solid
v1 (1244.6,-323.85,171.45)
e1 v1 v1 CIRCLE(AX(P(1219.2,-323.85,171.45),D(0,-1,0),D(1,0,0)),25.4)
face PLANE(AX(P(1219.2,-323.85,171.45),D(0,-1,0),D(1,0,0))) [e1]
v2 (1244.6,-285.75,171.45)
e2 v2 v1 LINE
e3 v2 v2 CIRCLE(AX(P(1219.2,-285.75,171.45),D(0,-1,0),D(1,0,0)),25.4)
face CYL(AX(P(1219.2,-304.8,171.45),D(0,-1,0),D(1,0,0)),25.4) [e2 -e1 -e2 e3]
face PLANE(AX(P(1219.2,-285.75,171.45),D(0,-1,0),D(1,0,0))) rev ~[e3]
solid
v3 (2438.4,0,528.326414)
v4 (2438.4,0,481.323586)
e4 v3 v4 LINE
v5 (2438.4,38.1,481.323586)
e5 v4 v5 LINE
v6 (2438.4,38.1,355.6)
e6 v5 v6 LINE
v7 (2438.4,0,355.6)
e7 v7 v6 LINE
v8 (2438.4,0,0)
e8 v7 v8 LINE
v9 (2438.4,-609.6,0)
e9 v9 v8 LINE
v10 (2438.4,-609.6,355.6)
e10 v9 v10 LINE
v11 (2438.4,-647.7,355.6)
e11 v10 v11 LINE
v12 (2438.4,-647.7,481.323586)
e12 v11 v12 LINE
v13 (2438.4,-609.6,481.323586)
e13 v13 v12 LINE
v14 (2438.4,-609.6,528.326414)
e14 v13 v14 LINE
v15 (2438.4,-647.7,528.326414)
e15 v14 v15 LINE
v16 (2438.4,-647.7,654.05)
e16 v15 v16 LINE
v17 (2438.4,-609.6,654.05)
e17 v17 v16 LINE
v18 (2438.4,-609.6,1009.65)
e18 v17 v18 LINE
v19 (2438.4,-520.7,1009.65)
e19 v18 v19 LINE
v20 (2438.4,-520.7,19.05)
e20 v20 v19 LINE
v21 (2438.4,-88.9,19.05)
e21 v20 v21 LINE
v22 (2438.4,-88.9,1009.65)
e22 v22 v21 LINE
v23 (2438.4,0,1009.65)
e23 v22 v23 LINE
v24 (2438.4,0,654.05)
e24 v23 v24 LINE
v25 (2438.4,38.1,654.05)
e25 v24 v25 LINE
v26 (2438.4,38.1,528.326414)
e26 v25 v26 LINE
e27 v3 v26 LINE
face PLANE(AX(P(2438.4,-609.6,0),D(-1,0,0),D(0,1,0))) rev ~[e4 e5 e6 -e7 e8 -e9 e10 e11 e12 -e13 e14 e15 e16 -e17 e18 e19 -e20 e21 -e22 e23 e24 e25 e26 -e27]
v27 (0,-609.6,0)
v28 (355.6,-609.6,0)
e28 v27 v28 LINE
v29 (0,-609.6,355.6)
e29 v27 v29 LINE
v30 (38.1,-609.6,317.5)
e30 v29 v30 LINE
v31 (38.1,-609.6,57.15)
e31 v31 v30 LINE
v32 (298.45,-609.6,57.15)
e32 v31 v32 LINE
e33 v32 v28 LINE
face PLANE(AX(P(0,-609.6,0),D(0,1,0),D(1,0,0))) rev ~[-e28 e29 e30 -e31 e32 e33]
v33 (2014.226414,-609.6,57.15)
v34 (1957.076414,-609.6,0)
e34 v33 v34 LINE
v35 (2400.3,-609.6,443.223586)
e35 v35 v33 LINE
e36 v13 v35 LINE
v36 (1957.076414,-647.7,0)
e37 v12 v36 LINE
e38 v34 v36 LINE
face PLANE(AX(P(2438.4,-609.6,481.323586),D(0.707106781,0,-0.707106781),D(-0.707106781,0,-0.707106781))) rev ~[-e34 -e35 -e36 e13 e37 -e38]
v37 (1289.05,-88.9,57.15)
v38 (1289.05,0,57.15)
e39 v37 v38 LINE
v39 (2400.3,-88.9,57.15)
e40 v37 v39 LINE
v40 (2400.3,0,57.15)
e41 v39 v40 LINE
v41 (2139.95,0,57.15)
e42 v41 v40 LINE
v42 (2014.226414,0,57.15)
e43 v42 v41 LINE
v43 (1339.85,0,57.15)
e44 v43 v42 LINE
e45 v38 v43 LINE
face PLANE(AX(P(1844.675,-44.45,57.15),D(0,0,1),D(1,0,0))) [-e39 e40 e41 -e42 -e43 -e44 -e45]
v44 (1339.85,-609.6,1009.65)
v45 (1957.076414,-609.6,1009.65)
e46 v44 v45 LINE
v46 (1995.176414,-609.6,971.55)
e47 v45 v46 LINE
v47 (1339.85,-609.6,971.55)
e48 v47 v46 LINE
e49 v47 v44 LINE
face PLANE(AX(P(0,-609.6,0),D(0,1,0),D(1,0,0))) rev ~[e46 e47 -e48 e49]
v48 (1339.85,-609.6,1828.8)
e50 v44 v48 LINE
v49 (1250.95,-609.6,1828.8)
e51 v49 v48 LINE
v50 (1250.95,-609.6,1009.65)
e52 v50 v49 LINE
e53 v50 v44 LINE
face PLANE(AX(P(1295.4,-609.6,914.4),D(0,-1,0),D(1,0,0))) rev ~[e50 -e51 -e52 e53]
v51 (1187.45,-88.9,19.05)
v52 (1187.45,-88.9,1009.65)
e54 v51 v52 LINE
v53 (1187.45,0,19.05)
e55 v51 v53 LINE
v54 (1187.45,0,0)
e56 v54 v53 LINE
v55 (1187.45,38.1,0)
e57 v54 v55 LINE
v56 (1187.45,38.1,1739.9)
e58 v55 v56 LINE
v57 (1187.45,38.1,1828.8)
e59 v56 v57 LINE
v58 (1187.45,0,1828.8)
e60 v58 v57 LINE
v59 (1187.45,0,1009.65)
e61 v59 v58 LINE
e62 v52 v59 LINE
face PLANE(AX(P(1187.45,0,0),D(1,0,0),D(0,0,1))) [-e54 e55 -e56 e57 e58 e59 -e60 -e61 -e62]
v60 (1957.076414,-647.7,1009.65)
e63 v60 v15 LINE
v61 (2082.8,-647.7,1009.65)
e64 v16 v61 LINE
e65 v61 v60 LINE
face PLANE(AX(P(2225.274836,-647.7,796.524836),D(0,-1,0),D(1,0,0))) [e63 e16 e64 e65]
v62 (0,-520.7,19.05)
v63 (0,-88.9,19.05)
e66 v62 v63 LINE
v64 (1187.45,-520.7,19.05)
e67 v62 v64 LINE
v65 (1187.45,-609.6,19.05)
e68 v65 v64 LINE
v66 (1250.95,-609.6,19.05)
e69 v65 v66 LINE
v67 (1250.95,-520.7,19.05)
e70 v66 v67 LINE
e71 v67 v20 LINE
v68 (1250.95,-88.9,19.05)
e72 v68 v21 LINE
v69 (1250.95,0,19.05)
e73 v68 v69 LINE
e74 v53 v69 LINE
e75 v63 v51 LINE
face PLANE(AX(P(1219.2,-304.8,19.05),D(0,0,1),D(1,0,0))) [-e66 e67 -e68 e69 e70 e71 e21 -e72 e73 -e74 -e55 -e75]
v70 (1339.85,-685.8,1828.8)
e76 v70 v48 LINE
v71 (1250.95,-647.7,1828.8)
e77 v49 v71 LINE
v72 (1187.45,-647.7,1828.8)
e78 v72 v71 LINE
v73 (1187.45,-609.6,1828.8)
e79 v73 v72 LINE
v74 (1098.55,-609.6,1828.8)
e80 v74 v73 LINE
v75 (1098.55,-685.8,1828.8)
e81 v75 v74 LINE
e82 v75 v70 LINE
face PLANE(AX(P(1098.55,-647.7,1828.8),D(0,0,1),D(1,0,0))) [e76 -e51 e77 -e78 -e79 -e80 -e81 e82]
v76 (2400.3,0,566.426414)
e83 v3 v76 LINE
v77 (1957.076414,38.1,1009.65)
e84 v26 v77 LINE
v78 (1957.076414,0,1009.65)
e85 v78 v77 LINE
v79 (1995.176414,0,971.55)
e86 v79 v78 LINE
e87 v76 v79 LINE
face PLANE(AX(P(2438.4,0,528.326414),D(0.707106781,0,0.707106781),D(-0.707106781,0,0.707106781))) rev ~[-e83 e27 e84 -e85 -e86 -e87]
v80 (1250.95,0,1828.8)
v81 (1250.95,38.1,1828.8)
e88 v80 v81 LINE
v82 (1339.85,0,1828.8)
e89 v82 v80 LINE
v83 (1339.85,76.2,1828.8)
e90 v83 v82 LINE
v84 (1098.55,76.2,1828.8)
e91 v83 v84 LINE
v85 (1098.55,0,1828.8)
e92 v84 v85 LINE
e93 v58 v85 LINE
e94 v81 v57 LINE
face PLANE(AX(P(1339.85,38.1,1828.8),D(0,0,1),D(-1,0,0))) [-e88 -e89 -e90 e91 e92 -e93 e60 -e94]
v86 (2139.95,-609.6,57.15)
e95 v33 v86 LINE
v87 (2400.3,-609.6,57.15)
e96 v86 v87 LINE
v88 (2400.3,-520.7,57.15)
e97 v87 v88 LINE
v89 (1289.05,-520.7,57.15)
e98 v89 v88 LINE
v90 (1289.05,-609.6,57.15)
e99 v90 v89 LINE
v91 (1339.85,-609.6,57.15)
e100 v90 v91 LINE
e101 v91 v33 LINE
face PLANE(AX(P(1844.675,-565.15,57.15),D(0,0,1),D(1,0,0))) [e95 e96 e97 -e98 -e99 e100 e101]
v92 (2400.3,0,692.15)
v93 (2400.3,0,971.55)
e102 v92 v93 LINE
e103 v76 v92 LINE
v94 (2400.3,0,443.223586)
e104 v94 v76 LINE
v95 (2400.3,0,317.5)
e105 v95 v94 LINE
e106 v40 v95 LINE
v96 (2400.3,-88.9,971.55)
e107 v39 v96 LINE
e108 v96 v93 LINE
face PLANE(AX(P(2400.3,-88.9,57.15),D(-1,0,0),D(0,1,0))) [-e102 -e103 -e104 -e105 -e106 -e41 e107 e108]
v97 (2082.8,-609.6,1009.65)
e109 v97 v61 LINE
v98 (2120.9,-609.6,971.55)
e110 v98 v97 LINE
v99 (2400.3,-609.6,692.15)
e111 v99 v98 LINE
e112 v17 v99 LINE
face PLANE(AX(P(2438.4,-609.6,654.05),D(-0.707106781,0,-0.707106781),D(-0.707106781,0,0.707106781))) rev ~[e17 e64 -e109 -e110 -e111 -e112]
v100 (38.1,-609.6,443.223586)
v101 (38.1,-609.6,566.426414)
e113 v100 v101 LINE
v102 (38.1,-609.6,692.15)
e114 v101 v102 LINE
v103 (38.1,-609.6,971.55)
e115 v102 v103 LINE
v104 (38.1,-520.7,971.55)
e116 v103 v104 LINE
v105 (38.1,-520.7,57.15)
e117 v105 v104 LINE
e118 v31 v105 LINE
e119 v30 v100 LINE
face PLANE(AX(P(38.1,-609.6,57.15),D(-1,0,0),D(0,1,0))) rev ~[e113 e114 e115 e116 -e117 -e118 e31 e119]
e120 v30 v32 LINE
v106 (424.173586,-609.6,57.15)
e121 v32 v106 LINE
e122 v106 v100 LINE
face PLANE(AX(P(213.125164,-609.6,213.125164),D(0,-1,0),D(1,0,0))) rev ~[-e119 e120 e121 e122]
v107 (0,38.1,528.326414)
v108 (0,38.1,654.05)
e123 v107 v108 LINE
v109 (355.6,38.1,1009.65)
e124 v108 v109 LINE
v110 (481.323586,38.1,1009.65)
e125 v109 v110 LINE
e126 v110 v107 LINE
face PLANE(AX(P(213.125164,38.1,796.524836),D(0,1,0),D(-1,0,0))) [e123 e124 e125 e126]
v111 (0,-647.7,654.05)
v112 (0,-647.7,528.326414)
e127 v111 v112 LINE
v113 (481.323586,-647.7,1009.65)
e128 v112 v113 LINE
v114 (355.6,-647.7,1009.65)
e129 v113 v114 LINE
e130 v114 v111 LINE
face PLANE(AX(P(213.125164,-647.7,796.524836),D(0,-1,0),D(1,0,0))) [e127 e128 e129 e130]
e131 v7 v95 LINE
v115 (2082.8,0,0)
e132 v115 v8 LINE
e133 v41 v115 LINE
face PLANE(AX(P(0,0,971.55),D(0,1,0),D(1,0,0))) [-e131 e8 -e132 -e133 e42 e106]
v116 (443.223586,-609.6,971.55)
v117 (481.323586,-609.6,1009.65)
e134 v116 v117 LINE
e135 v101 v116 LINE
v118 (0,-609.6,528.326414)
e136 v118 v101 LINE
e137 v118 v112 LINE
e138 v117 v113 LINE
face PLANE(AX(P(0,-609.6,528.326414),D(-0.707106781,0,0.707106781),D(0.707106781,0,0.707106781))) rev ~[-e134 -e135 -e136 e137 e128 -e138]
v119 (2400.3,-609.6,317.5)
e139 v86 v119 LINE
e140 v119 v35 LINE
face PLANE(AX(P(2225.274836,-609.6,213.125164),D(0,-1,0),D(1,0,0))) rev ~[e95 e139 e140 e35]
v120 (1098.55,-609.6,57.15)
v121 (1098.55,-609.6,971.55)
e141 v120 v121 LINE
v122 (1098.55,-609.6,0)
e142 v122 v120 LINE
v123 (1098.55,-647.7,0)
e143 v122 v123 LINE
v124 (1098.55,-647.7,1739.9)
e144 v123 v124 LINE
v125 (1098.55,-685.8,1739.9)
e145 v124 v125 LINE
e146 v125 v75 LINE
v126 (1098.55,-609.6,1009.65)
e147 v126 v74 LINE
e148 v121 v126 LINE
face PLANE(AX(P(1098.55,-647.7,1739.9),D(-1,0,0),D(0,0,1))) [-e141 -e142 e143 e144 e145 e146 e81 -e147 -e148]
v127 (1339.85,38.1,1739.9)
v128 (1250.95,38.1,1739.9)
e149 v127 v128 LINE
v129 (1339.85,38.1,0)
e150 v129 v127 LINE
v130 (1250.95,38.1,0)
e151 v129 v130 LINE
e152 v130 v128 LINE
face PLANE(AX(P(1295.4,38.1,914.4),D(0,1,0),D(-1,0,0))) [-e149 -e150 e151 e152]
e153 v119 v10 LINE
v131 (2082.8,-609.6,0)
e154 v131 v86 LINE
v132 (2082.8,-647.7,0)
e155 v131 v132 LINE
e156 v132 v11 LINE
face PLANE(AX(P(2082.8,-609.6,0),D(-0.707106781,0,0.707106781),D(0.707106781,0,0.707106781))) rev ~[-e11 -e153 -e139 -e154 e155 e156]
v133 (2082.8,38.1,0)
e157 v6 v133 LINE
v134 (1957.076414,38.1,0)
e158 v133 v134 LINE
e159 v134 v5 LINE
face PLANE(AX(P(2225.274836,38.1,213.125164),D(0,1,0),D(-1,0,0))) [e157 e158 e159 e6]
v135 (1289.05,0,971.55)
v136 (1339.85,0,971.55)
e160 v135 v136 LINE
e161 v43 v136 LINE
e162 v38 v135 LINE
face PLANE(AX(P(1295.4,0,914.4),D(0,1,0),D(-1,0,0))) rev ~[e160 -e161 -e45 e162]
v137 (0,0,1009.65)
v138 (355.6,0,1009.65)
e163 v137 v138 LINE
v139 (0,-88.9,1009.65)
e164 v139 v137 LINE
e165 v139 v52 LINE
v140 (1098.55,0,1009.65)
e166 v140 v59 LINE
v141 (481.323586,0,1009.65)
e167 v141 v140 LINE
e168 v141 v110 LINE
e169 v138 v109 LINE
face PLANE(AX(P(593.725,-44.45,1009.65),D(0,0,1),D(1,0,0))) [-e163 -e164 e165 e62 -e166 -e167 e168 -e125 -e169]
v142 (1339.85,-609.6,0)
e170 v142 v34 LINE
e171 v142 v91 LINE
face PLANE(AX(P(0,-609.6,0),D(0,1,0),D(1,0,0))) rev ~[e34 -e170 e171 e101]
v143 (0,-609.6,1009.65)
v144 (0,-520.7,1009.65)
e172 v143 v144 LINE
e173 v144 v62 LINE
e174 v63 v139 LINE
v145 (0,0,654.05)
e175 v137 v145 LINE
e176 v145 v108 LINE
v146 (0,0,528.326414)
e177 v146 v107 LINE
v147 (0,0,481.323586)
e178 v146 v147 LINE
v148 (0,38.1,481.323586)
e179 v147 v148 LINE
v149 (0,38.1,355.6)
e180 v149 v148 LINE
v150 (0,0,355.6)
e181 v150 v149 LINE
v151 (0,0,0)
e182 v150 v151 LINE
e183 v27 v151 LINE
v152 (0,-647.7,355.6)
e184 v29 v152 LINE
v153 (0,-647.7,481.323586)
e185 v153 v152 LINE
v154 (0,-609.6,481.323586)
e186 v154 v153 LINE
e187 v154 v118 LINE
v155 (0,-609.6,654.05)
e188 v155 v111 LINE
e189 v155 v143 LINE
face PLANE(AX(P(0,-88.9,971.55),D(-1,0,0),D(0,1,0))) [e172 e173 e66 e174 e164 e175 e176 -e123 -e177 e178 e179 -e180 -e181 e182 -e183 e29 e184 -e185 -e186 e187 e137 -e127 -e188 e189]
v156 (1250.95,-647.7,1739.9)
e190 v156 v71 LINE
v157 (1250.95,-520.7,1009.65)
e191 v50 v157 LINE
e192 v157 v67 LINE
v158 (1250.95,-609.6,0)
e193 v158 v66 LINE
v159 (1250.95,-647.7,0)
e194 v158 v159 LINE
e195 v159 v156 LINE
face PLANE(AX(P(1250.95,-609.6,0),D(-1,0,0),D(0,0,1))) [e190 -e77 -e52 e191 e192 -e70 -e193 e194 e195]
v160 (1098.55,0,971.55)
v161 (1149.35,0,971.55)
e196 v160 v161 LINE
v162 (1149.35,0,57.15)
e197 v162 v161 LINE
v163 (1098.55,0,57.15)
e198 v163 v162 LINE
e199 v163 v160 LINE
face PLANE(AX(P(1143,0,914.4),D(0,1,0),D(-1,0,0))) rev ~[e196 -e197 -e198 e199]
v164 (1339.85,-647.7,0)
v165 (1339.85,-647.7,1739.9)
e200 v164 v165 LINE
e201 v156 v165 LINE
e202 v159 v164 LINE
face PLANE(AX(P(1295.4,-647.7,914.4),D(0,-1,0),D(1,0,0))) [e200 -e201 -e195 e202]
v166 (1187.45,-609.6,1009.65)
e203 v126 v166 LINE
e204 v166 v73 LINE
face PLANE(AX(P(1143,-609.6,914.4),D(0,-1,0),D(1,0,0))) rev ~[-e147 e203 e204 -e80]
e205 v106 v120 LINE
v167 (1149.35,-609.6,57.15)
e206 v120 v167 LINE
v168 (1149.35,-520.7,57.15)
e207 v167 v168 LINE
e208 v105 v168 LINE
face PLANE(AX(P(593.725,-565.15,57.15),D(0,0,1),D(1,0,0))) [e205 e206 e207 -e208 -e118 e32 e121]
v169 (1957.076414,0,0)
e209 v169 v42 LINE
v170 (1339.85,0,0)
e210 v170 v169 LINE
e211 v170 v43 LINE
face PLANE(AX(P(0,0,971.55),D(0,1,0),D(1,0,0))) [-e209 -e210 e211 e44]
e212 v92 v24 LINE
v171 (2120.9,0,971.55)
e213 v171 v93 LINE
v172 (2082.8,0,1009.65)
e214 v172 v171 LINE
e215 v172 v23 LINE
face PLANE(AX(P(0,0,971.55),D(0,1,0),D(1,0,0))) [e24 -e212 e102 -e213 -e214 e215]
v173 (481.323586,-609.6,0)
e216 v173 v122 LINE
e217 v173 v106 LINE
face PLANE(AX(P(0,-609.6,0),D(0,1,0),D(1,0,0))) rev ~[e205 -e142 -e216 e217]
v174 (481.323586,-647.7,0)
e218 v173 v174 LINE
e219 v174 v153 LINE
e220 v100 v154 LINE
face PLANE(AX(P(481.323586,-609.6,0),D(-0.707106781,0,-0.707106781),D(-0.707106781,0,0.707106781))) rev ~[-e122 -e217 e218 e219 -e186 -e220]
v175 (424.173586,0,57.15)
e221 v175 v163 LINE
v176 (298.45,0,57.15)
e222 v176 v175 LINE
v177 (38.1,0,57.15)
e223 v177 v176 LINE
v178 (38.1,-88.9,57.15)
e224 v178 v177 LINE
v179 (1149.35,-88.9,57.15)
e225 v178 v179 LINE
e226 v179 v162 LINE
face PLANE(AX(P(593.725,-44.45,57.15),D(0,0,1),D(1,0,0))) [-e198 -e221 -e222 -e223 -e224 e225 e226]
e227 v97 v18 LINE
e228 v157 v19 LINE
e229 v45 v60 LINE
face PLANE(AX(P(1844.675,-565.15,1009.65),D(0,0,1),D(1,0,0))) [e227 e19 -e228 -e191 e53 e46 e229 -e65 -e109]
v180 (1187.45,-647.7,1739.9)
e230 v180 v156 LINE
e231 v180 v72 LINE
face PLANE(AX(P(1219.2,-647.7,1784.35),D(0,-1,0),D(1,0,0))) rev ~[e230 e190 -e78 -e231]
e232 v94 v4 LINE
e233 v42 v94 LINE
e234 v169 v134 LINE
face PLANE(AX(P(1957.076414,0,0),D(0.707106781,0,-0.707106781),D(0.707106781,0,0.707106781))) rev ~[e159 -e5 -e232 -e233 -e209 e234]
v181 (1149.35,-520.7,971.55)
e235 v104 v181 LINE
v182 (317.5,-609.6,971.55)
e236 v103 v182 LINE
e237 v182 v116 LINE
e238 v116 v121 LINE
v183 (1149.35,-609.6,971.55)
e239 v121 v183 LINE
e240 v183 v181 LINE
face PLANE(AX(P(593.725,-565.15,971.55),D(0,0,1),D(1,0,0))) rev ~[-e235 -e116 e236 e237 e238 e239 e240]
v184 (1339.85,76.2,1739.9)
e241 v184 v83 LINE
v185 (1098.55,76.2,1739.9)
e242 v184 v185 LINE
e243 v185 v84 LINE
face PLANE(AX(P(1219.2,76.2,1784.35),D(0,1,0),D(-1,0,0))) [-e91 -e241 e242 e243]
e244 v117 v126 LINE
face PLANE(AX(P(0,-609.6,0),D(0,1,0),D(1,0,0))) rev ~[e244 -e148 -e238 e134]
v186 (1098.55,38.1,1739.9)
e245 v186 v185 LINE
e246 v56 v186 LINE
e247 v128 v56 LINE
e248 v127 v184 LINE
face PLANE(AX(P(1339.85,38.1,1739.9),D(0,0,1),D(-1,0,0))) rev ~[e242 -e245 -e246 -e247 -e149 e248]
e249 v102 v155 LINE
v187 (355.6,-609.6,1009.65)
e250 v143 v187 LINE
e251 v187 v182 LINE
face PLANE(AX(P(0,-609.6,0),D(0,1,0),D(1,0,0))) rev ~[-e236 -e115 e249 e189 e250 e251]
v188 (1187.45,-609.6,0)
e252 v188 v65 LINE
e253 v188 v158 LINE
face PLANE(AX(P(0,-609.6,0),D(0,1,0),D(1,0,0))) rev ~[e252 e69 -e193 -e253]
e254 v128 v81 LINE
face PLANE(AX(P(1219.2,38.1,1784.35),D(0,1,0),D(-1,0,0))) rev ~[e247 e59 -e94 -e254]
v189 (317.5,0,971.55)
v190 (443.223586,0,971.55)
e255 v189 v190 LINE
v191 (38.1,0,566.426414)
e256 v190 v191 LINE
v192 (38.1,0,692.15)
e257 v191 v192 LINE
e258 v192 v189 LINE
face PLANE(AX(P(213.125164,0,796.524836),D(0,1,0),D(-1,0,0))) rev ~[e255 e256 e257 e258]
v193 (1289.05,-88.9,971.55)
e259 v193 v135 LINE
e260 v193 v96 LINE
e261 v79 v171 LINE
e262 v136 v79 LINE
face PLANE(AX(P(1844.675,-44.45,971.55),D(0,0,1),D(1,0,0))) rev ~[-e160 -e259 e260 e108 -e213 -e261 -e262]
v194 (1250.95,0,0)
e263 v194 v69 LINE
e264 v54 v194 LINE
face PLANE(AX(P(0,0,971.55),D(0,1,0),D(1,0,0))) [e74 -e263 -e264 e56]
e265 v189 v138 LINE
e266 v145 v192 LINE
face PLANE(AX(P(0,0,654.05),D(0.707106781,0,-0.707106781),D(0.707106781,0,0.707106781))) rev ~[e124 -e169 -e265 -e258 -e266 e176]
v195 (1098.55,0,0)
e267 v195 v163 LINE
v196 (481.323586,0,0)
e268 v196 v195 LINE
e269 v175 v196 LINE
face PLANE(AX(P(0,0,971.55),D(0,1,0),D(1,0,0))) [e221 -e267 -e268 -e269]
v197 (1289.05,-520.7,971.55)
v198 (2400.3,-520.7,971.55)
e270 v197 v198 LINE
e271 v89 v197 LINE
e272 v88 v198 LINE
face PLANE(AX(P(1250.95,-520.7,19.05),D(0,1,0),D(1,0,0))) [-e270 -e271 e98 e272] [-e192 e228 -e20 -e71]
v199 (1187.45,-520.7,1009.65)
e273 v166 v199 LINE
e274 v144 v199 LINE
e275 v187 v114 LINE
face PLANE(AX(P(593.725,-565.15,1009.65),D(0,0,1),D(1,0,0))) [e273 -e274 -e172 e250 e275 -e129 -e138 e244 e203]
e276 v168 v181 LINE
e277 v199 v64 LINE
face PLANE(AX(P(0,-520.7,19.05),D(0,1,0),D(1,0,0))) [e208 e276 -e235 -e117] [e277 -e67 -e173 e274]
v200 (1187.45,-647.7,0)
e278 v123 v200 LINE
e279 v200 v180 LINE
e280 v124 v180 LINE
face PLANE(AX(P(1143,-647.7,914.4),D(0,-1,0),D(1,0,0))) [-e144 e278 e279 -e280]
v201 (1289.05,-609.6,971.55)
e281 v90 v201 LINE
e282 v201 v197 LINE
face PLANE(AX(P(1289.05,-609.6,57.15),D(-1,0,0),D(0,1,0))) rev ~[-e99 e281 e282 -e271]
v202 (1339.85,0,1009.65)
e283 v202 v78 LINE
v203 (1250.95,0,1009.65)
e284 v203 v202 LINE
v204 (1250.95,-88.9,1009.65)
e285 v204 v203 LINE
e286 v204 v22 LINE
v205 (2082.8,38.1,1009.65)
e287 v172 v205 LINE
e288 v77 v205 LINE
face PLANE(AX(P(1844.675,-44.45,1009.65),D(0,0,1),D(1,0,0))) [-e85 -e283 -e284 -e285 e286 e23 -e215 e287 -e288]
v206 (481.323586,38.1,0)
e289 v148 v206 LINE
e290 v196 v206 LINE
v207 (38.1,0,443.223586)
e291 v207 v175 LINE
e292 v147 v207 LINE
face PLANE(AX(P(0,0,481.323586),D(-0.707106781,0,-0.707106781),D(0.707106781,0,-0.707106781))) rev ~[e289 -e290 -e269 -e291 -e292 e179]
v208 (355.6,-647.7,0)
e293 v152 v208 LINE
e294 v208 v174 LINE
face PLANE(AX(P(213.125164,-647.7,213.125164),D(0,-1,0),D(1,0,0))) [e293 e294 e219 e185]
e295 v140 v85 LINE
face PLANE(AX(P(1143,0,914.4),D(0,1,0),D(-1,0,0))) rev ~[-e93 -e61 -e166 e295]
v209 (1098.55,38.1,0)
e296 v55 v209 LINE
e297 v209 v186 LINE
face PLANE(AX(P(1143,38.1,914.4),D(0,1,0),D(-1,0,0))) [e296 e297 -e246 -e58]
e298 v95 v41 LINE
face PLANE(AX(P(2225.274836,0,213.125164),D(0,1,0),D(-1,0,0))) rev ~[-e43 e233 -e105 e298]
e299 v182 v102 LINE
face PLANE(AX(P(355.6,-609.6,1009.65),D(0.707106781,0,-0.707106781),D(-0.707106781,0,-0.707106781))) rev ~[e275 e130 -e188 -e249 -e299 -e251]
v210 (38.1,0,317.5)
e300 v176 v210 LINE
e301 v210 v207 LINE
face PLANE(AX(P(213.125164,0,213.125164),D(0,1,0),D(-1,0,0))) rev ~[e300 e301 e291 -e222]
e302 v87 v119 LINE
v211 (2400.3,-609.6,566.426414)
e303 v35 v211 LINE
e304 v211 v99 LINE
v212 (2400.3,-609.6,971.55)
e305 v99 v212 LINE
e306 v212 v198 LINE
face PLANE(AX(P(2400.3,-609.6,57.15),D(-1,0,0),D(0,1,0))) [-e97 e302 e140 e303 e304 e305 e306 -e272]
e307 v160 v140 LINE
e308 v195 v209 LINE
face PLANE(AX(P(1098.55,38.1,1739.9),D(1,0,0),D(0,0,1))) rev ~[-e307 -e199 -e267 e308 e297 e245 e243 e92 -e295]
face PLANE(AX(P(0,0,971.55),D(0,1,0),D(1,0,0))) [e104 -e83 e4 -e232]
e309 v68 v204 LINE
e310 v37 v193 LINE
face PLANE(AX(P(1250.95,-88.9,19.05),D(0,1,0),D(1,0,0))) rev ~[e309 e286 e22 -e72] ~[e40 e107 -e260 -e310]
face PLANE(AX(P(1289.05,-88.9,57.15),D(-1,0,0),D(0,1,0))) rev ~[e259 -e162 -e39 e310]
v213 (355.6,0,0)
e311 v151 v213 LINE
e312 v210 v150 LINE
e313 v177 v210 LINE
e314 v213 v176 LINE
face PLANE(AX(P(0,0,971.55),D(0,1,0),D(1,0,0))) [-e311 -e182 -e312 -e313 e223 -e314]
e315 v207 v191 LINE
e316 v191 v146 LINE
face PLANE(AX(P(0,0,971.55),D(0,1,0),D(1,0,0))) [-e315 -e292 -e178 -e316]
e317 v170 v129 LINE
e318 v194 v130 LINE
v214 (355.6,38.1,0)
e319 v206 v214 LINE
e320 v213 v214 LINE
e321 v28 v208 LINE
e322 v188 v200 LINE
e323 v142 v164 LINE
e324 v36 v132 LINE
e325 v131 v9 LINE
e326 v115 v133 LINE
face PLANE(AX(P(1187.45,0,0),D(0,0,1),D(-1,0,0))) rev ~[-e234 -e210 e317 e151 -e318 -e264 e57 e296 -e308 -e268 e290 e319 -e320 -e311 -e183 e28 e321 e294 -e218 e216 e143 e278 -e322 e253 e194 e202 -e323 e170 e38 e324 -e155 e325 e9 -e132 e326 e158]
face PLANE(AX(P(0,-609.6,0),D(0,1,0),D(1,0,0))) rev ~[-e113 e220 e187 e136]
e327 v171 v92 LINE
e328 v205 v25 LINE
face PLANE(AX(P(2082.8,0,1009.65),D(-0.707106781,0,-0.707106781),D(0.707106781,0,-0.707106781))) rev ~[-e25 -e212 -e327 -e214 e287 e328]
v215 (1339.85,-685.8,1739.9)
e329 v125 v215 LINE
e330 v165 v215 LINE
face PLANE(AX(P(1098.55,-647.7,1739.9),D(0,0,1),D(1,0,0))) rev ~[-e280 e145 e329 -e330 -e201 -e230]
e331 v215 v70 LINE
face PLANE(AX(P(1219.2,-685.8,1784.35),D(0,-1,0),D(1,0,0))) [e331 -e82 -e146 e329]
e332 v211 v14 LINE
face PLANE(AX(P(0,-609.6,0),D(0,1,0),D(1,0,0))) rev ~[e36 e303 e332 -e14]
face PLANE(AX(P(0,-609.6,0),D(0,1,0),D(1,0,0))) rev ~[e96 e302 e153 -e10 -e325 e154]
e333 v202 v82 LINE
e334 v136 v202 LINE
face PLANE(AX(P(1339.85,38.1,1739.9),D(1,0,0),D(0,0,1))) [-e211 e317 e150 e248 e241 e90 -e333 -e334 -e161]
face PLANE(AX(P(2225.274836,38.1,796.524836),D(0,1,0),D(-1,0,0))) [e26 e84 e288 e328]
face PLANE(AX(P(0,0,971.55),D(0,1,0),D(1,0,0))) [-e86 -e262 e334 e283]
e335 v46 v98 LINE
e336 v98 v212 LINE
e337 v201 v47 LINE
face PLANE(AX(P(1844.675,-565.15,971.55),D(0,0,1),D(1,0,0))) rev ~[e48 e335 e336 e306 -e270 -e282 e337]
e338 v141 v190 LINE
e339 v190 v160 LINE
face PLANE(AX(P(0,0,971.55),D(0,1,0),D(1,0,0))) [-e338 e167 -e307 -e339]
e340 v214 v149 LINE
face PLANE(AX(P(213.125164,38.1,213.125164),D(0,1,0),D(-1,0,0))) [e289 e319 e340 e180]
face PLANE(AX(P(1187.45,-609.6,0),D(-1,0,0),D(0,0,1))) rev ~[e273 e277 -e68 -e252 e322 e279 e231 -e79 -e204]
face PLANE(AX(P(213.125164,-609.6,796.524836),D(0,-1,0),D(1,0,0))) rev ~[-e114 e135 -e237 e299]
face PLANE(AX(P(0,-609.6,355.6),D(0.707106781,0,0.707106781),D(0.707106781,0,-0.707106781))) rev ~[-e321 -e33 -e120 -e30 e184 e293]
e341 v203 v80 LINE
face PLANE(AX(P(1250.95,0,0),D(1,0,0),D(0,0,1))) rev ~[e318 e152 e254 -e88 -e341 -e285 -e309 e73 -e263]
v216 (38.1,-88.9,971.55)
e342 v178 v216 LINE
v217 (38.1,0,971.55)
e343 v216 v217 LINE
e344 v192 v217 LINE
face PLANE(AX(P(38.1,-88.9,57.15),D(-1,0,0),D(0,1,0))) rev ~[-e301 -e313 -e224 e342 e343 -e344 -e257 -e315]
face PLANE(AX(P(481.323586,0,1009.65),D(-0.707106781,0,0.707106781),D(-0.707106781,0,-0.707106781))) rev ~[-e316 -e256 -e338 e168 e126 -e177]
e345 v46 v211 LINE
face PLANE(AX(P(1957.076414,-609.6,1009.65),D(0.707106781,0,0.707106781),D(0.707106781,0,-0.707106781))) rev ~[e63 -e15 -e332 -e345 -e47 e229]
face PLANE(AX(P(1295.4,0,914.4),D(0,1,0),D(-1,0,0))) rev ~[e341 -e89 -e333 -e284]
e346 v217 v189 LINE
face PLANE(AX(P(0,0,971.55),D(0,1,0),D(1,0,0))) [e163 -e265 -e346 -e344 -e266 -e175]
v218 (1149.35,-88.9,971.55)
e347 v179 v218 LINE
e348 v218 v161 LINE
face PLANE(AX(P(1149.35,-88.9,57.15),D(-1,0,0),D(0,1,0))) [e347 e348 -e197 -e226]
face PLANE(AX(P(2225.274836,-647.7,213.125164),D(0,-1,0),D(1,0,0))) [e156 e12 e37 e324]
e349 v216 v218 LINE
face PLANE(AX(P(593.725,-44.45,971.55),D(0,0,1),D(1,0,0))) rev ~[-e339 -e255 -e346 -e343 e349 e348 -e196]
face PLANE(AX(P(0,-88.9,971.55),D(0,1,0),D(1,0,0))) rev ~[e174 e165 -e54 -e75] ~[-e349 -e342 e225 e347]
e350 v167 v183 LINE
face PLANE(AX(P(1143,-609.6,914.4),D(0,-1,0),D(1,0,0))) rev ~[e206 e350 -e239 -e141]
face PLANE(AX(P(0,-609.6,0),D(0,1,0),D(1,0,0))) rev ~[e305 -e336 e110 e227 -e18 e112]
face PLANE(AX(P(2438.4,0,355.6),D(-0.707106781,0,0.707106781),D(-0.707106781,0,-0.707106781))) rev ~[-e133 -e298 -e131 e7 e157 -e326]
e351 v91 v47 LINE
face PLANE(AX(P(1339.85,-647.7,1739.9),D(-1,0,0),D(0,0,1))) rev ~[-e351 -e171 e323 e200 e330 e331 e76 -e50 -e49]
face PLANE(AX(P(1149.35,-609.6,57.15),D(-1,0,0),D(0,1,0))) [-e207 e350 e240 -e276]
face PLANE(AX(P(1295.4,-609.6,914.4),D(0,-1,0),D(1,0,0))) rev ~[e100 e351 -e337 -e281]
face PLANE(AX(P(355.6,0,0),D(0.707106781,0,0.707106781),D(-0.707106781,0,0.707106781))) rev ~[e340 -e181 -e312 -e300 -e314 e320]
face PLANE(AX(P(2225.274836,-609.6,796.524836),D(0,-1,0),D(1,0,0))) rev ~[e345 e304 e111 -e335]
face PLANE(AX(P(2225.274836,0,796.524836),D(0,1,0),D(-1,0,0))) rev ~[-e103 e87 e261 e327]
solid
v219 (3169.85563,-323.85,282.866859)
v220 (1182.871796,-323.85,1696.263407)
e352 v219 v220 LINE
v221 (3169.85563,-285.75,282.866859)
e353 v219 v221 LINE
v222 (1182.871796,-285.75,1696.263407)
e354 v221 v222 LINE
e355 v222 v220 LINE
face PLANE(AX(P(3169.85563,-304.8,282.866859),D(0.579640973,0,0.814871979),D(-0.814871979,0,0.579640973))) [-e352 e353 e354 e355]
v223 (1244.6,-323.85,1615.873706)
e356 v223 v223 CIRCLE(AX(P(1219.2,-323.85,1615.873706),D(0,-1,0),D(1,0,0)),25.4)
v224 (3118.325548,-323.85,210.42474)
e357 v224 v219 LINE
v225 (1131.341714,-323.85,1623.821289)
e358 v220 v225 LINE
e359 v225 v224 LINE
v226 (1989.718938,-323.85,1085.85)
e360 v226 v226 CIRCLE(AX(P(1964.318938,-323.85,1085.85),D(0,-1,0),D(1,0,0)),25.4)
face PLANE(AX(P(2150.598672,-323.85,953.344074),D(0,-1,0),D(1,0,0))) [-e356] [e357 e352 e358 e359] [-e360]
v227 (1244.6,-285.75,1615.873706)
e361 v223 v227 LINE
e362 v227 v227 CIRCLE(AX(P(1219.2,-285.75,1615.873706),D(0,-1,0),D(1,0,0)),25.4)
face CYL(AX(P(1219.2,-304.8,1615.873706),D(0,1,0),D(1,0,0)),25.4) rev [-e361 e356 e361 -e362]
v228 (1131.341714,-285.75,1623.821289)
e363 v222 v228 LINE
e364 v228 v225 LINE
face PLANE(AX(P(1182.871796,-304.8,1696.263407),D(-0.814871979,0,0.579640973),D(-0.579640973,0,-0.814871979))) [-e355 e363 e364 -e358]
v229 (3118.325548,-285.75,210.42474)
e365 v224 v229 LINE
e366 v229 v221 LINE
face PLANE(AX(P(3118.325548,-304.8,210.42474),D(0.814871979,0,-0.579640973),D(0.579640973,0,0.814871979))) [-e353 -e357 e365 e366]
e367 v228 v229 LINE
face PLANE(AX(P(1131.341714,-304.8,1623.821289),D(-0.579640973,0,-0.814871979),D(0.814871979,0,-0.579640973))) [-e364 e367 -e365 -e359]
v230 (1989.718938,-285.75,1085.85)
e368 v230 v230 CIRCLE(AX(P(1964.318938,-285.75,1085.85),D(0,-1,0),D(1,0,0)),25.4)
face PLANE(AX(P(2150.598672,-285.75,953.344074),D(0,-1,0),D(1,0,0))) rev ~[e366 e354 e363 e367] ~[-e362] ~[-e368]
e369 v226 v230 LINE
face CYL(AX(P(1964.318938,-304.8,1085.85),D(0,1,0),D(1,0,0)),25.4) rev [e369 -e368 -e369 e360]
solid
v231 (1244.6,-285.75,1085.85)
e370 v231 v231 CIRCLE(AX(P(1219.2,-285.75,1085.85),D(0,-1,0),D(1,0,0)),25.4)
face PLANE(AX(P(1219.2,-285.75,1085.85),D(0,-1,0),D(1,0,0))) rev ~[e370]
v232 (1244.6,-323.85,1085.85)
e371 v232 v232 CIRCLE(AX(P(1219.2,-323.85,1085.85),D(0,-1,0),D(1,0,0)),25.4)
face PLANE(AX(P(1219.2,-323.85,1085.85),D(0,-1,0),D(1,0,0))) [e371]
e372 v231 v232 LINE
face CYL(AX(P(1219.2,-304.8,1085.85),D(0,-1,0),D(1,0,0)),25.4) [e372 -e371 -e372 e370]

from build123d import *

# Parameters (mm, degrees)
F0_W      = 2438.4
F0_H      = 609.6
F1_DEPTH  = 19.05
F2_W      = 1187.45
F2_H      = 88.9
F3_DEPTH  = 38.1
F4_W      = 38.1
F4_H      = 88.9
F5_DEPTH  = 914.4
F6_W      = 1187.45
F6_H      = 88.9
F7_DEPTH  = 38.1
F8_W      = 88.9
F8_H      = 1828.8
F9_DEPTH  = 38.1
F10_W     = 88.9
F10_H     = 1828.8
F11_DEPTH = 38.1
F12_W     = 241.3
F12_H     = 88.9
F13_DEPTH = 38.1
F14_W     = 241.3
F14_H     = 88.9
F15_DEPTH = 38.1
F17_R     = 25.4
F18_DEPTH = 19.05


with BuildPart() as f1:
    # F0 (on Top) → F1 (new body)
    with BuildSketch(Plane.XY):
        with Locations((1219.2, -304.8)):
            Rectangle(F0_W, F0_H)
    extrude(amount=F1_DEPTH)

    # F2 (on face) → F3 (join)
    with BuildSketch(Plane.XY.offset(19.05)):
        with Locations((593.725, -44.45)):
            Rectangle(F2_W, F2_H)
        with Locations((1844.675, -44.45)):
            Rectangle(F2_W, F2_H)
        with Locations((593.725, -565.15)):
            Rectangle(F2_W, F2_H)
        with Locations((1844.675, -565.15)):
            Rectangle(F2_W, F2_H)
    extrude(amount=F3_DEPTH)

    # F4 (on face) → F5 (join)
    with BuildSketch(Plane.XY.offset(57.15)):
        with Locations((19.05, -44.45)):
            Rectangle(F4_W, F4_H)
        with Locations((1168.4, -44.45)):
            Rectangle(F4_W, F4_H)
        with Locations((1168.4, -565.15)):
            Rectangle(F4_W, F4_H)
        with Locations((19.05, -565.15)):
            Rectangle(F4_W, F4_H)
        with Locations((1270, -44.45)):
            Rectangle(F4_W, F4_H)
        with Locations((1270, -565.15)):
            Rectangle(F4_W, F4_H)
        with Locations((2419.35, -565.15)):
            Rectangle(F4_W, F4_H)
        with Locations((2419.35, -44.45)):
            Rectangle(F4_W, F4_H)
    extrude(amount=F5_DEPTH)

    # F6 (on face) → F7 (join)
    with BuildSketch(Plane.XY.offset(971.55)):
        with Locations((593.725, -44.45)):
            Rectangle(F6_W, F6_H)
        with Locations((1844.675, -44.45)):
            Rectangle(F6_W, F6_H)
        with Locations((1844.675, -565.15)):
            Rectangle(F6_W, F6_H)
        with Locations((593.725, -565.15)):
            Rectangle(F6_W, F6_H)
    extrude(amount=F7_DEPTH)

    # F8 (on face) → F9 (join)
    with BuildSketch(Plane.XZ.offset(609.6)):
        with Locations((1295.4, 914.4)):
            Rectangle(F8_W, F8_H)
        Polygon((2438.4, 654.05), (2082.8, 1009.65), (1957.076414305, 1009.65), (2438.4, 528.326414305), align=None)
        Polygon((2438.4, 355.6), (2438.4, 481.323585695), (1957.076414305, 0), (2082.8, 0), align=None)
        Polygon((0, 355.6), (355.6, 0), (481.323585695, 0), (0, 481.323585695), align=None)
        Polygon((481.323585695, 1009.65), (355.6, 1009.65), (0, 654.05), (0, 528.326414305), align=None)
        with Locations((1143, 914.4)):
            Rectangle(F8_W, F8_H)
    extrude(amount=F9_DEPTH)

    # F10 (on face) → F11 (join)
    with BuildSketch(Plane(origin=(0, 0, 0), x_dir=(-1, 0, 0), z_dir=(0, 1, 0))):
        with Locations((-1143, 914.4)):
            Rectangle(F10_W, F10_H)
        Polygon((0, 654.05), (-355.6, 1009.65), (-481.323585695, 1009.65), (0, 528.326414305), align=None)
        Polygon((0, 355.6), (0, 481.323585695), (-481.323585695, 0), (-355.6, 0), align=None)
        Polygon((-2438.4, 355.6), (-2082.8, 0), (-1957.076414305, 0), (-2438.4, 481.323585695), align=None)
        Polygon((-1957.076414305, 1009.65), (-2082.8, 1009.65), (-2438.4, 654.05), (-2438.4, 528.326414305), align=None)
        with Locations((-1295.4, 914.4)):
            Rectangle(F10_W, F10_H)
    extrude(amount=F11_DEPTH)

    # F12 (on face) → F13 (join)
    with BuildSketch(Plane(origin=(0, 38.1, 0), x_dir=(-1, 0, 0), z_dir=(0, 1, 0))):
        with Locations((-1219.2, 1784.35)):
            Rectangle(F12_W, F12_H)
    extrude(amount=F13_DEPTH)

    # F14 (on face) → F15 (join)
    with BuildSketch(Plane.XZ.offset(647.7)):
        with Locations((1219.2, 1784.35)):
            Rectangle(F14_W, F14_H)
    extrude(amount=F15_DEPTH)


with BuildPart() as f18:
    # F17 (on offset) → F18 (new body, symmetric)
    with BuildSketch(Plane.XZ.offset(304.8)):
        Polygon((3169.8556301289, 282.8668585002), (1182.8717964555, 1696.2634074986), (1131.3417139399, 1623.8212885626), (3118.3255476133, 210.4247395642), align=None)
        with Locations((1964.3189376275, 1085.85)):
            Circle(F17_R, mode=Mode.SUBTRACT)
        with Locations((1219.2, 1615.8737058744)):
            Circle(F17_R, mode=Mode.SUBTRACT)
    extrude(amount=F18_DEPTH, both=True)


with BuildPart() as f18b:
    # F17 (on offset) → F18, piece 2 (new body, symmetric)
    with BuildSketch(Plane.XZ.offset(304.8)):
        with Locations((1219.2, 1085.85)):
            Circle(F17_R)
    extrude(amount=F18_DEPTH, both=True)


with BuildPart() as f18c:
    # F17 (on offset) → F18, piece 3 (new body, symmetric)
    with BuildSketch(Plane.XZ.offset(304.8)):
        with Locations((1219.2, 171.45)):
            Circle(F17_R)
    extrude(amount=F18_DEPTH, both=True)


solid = Compound([f1.part, f18.part, f18b.part, f18c.part])
